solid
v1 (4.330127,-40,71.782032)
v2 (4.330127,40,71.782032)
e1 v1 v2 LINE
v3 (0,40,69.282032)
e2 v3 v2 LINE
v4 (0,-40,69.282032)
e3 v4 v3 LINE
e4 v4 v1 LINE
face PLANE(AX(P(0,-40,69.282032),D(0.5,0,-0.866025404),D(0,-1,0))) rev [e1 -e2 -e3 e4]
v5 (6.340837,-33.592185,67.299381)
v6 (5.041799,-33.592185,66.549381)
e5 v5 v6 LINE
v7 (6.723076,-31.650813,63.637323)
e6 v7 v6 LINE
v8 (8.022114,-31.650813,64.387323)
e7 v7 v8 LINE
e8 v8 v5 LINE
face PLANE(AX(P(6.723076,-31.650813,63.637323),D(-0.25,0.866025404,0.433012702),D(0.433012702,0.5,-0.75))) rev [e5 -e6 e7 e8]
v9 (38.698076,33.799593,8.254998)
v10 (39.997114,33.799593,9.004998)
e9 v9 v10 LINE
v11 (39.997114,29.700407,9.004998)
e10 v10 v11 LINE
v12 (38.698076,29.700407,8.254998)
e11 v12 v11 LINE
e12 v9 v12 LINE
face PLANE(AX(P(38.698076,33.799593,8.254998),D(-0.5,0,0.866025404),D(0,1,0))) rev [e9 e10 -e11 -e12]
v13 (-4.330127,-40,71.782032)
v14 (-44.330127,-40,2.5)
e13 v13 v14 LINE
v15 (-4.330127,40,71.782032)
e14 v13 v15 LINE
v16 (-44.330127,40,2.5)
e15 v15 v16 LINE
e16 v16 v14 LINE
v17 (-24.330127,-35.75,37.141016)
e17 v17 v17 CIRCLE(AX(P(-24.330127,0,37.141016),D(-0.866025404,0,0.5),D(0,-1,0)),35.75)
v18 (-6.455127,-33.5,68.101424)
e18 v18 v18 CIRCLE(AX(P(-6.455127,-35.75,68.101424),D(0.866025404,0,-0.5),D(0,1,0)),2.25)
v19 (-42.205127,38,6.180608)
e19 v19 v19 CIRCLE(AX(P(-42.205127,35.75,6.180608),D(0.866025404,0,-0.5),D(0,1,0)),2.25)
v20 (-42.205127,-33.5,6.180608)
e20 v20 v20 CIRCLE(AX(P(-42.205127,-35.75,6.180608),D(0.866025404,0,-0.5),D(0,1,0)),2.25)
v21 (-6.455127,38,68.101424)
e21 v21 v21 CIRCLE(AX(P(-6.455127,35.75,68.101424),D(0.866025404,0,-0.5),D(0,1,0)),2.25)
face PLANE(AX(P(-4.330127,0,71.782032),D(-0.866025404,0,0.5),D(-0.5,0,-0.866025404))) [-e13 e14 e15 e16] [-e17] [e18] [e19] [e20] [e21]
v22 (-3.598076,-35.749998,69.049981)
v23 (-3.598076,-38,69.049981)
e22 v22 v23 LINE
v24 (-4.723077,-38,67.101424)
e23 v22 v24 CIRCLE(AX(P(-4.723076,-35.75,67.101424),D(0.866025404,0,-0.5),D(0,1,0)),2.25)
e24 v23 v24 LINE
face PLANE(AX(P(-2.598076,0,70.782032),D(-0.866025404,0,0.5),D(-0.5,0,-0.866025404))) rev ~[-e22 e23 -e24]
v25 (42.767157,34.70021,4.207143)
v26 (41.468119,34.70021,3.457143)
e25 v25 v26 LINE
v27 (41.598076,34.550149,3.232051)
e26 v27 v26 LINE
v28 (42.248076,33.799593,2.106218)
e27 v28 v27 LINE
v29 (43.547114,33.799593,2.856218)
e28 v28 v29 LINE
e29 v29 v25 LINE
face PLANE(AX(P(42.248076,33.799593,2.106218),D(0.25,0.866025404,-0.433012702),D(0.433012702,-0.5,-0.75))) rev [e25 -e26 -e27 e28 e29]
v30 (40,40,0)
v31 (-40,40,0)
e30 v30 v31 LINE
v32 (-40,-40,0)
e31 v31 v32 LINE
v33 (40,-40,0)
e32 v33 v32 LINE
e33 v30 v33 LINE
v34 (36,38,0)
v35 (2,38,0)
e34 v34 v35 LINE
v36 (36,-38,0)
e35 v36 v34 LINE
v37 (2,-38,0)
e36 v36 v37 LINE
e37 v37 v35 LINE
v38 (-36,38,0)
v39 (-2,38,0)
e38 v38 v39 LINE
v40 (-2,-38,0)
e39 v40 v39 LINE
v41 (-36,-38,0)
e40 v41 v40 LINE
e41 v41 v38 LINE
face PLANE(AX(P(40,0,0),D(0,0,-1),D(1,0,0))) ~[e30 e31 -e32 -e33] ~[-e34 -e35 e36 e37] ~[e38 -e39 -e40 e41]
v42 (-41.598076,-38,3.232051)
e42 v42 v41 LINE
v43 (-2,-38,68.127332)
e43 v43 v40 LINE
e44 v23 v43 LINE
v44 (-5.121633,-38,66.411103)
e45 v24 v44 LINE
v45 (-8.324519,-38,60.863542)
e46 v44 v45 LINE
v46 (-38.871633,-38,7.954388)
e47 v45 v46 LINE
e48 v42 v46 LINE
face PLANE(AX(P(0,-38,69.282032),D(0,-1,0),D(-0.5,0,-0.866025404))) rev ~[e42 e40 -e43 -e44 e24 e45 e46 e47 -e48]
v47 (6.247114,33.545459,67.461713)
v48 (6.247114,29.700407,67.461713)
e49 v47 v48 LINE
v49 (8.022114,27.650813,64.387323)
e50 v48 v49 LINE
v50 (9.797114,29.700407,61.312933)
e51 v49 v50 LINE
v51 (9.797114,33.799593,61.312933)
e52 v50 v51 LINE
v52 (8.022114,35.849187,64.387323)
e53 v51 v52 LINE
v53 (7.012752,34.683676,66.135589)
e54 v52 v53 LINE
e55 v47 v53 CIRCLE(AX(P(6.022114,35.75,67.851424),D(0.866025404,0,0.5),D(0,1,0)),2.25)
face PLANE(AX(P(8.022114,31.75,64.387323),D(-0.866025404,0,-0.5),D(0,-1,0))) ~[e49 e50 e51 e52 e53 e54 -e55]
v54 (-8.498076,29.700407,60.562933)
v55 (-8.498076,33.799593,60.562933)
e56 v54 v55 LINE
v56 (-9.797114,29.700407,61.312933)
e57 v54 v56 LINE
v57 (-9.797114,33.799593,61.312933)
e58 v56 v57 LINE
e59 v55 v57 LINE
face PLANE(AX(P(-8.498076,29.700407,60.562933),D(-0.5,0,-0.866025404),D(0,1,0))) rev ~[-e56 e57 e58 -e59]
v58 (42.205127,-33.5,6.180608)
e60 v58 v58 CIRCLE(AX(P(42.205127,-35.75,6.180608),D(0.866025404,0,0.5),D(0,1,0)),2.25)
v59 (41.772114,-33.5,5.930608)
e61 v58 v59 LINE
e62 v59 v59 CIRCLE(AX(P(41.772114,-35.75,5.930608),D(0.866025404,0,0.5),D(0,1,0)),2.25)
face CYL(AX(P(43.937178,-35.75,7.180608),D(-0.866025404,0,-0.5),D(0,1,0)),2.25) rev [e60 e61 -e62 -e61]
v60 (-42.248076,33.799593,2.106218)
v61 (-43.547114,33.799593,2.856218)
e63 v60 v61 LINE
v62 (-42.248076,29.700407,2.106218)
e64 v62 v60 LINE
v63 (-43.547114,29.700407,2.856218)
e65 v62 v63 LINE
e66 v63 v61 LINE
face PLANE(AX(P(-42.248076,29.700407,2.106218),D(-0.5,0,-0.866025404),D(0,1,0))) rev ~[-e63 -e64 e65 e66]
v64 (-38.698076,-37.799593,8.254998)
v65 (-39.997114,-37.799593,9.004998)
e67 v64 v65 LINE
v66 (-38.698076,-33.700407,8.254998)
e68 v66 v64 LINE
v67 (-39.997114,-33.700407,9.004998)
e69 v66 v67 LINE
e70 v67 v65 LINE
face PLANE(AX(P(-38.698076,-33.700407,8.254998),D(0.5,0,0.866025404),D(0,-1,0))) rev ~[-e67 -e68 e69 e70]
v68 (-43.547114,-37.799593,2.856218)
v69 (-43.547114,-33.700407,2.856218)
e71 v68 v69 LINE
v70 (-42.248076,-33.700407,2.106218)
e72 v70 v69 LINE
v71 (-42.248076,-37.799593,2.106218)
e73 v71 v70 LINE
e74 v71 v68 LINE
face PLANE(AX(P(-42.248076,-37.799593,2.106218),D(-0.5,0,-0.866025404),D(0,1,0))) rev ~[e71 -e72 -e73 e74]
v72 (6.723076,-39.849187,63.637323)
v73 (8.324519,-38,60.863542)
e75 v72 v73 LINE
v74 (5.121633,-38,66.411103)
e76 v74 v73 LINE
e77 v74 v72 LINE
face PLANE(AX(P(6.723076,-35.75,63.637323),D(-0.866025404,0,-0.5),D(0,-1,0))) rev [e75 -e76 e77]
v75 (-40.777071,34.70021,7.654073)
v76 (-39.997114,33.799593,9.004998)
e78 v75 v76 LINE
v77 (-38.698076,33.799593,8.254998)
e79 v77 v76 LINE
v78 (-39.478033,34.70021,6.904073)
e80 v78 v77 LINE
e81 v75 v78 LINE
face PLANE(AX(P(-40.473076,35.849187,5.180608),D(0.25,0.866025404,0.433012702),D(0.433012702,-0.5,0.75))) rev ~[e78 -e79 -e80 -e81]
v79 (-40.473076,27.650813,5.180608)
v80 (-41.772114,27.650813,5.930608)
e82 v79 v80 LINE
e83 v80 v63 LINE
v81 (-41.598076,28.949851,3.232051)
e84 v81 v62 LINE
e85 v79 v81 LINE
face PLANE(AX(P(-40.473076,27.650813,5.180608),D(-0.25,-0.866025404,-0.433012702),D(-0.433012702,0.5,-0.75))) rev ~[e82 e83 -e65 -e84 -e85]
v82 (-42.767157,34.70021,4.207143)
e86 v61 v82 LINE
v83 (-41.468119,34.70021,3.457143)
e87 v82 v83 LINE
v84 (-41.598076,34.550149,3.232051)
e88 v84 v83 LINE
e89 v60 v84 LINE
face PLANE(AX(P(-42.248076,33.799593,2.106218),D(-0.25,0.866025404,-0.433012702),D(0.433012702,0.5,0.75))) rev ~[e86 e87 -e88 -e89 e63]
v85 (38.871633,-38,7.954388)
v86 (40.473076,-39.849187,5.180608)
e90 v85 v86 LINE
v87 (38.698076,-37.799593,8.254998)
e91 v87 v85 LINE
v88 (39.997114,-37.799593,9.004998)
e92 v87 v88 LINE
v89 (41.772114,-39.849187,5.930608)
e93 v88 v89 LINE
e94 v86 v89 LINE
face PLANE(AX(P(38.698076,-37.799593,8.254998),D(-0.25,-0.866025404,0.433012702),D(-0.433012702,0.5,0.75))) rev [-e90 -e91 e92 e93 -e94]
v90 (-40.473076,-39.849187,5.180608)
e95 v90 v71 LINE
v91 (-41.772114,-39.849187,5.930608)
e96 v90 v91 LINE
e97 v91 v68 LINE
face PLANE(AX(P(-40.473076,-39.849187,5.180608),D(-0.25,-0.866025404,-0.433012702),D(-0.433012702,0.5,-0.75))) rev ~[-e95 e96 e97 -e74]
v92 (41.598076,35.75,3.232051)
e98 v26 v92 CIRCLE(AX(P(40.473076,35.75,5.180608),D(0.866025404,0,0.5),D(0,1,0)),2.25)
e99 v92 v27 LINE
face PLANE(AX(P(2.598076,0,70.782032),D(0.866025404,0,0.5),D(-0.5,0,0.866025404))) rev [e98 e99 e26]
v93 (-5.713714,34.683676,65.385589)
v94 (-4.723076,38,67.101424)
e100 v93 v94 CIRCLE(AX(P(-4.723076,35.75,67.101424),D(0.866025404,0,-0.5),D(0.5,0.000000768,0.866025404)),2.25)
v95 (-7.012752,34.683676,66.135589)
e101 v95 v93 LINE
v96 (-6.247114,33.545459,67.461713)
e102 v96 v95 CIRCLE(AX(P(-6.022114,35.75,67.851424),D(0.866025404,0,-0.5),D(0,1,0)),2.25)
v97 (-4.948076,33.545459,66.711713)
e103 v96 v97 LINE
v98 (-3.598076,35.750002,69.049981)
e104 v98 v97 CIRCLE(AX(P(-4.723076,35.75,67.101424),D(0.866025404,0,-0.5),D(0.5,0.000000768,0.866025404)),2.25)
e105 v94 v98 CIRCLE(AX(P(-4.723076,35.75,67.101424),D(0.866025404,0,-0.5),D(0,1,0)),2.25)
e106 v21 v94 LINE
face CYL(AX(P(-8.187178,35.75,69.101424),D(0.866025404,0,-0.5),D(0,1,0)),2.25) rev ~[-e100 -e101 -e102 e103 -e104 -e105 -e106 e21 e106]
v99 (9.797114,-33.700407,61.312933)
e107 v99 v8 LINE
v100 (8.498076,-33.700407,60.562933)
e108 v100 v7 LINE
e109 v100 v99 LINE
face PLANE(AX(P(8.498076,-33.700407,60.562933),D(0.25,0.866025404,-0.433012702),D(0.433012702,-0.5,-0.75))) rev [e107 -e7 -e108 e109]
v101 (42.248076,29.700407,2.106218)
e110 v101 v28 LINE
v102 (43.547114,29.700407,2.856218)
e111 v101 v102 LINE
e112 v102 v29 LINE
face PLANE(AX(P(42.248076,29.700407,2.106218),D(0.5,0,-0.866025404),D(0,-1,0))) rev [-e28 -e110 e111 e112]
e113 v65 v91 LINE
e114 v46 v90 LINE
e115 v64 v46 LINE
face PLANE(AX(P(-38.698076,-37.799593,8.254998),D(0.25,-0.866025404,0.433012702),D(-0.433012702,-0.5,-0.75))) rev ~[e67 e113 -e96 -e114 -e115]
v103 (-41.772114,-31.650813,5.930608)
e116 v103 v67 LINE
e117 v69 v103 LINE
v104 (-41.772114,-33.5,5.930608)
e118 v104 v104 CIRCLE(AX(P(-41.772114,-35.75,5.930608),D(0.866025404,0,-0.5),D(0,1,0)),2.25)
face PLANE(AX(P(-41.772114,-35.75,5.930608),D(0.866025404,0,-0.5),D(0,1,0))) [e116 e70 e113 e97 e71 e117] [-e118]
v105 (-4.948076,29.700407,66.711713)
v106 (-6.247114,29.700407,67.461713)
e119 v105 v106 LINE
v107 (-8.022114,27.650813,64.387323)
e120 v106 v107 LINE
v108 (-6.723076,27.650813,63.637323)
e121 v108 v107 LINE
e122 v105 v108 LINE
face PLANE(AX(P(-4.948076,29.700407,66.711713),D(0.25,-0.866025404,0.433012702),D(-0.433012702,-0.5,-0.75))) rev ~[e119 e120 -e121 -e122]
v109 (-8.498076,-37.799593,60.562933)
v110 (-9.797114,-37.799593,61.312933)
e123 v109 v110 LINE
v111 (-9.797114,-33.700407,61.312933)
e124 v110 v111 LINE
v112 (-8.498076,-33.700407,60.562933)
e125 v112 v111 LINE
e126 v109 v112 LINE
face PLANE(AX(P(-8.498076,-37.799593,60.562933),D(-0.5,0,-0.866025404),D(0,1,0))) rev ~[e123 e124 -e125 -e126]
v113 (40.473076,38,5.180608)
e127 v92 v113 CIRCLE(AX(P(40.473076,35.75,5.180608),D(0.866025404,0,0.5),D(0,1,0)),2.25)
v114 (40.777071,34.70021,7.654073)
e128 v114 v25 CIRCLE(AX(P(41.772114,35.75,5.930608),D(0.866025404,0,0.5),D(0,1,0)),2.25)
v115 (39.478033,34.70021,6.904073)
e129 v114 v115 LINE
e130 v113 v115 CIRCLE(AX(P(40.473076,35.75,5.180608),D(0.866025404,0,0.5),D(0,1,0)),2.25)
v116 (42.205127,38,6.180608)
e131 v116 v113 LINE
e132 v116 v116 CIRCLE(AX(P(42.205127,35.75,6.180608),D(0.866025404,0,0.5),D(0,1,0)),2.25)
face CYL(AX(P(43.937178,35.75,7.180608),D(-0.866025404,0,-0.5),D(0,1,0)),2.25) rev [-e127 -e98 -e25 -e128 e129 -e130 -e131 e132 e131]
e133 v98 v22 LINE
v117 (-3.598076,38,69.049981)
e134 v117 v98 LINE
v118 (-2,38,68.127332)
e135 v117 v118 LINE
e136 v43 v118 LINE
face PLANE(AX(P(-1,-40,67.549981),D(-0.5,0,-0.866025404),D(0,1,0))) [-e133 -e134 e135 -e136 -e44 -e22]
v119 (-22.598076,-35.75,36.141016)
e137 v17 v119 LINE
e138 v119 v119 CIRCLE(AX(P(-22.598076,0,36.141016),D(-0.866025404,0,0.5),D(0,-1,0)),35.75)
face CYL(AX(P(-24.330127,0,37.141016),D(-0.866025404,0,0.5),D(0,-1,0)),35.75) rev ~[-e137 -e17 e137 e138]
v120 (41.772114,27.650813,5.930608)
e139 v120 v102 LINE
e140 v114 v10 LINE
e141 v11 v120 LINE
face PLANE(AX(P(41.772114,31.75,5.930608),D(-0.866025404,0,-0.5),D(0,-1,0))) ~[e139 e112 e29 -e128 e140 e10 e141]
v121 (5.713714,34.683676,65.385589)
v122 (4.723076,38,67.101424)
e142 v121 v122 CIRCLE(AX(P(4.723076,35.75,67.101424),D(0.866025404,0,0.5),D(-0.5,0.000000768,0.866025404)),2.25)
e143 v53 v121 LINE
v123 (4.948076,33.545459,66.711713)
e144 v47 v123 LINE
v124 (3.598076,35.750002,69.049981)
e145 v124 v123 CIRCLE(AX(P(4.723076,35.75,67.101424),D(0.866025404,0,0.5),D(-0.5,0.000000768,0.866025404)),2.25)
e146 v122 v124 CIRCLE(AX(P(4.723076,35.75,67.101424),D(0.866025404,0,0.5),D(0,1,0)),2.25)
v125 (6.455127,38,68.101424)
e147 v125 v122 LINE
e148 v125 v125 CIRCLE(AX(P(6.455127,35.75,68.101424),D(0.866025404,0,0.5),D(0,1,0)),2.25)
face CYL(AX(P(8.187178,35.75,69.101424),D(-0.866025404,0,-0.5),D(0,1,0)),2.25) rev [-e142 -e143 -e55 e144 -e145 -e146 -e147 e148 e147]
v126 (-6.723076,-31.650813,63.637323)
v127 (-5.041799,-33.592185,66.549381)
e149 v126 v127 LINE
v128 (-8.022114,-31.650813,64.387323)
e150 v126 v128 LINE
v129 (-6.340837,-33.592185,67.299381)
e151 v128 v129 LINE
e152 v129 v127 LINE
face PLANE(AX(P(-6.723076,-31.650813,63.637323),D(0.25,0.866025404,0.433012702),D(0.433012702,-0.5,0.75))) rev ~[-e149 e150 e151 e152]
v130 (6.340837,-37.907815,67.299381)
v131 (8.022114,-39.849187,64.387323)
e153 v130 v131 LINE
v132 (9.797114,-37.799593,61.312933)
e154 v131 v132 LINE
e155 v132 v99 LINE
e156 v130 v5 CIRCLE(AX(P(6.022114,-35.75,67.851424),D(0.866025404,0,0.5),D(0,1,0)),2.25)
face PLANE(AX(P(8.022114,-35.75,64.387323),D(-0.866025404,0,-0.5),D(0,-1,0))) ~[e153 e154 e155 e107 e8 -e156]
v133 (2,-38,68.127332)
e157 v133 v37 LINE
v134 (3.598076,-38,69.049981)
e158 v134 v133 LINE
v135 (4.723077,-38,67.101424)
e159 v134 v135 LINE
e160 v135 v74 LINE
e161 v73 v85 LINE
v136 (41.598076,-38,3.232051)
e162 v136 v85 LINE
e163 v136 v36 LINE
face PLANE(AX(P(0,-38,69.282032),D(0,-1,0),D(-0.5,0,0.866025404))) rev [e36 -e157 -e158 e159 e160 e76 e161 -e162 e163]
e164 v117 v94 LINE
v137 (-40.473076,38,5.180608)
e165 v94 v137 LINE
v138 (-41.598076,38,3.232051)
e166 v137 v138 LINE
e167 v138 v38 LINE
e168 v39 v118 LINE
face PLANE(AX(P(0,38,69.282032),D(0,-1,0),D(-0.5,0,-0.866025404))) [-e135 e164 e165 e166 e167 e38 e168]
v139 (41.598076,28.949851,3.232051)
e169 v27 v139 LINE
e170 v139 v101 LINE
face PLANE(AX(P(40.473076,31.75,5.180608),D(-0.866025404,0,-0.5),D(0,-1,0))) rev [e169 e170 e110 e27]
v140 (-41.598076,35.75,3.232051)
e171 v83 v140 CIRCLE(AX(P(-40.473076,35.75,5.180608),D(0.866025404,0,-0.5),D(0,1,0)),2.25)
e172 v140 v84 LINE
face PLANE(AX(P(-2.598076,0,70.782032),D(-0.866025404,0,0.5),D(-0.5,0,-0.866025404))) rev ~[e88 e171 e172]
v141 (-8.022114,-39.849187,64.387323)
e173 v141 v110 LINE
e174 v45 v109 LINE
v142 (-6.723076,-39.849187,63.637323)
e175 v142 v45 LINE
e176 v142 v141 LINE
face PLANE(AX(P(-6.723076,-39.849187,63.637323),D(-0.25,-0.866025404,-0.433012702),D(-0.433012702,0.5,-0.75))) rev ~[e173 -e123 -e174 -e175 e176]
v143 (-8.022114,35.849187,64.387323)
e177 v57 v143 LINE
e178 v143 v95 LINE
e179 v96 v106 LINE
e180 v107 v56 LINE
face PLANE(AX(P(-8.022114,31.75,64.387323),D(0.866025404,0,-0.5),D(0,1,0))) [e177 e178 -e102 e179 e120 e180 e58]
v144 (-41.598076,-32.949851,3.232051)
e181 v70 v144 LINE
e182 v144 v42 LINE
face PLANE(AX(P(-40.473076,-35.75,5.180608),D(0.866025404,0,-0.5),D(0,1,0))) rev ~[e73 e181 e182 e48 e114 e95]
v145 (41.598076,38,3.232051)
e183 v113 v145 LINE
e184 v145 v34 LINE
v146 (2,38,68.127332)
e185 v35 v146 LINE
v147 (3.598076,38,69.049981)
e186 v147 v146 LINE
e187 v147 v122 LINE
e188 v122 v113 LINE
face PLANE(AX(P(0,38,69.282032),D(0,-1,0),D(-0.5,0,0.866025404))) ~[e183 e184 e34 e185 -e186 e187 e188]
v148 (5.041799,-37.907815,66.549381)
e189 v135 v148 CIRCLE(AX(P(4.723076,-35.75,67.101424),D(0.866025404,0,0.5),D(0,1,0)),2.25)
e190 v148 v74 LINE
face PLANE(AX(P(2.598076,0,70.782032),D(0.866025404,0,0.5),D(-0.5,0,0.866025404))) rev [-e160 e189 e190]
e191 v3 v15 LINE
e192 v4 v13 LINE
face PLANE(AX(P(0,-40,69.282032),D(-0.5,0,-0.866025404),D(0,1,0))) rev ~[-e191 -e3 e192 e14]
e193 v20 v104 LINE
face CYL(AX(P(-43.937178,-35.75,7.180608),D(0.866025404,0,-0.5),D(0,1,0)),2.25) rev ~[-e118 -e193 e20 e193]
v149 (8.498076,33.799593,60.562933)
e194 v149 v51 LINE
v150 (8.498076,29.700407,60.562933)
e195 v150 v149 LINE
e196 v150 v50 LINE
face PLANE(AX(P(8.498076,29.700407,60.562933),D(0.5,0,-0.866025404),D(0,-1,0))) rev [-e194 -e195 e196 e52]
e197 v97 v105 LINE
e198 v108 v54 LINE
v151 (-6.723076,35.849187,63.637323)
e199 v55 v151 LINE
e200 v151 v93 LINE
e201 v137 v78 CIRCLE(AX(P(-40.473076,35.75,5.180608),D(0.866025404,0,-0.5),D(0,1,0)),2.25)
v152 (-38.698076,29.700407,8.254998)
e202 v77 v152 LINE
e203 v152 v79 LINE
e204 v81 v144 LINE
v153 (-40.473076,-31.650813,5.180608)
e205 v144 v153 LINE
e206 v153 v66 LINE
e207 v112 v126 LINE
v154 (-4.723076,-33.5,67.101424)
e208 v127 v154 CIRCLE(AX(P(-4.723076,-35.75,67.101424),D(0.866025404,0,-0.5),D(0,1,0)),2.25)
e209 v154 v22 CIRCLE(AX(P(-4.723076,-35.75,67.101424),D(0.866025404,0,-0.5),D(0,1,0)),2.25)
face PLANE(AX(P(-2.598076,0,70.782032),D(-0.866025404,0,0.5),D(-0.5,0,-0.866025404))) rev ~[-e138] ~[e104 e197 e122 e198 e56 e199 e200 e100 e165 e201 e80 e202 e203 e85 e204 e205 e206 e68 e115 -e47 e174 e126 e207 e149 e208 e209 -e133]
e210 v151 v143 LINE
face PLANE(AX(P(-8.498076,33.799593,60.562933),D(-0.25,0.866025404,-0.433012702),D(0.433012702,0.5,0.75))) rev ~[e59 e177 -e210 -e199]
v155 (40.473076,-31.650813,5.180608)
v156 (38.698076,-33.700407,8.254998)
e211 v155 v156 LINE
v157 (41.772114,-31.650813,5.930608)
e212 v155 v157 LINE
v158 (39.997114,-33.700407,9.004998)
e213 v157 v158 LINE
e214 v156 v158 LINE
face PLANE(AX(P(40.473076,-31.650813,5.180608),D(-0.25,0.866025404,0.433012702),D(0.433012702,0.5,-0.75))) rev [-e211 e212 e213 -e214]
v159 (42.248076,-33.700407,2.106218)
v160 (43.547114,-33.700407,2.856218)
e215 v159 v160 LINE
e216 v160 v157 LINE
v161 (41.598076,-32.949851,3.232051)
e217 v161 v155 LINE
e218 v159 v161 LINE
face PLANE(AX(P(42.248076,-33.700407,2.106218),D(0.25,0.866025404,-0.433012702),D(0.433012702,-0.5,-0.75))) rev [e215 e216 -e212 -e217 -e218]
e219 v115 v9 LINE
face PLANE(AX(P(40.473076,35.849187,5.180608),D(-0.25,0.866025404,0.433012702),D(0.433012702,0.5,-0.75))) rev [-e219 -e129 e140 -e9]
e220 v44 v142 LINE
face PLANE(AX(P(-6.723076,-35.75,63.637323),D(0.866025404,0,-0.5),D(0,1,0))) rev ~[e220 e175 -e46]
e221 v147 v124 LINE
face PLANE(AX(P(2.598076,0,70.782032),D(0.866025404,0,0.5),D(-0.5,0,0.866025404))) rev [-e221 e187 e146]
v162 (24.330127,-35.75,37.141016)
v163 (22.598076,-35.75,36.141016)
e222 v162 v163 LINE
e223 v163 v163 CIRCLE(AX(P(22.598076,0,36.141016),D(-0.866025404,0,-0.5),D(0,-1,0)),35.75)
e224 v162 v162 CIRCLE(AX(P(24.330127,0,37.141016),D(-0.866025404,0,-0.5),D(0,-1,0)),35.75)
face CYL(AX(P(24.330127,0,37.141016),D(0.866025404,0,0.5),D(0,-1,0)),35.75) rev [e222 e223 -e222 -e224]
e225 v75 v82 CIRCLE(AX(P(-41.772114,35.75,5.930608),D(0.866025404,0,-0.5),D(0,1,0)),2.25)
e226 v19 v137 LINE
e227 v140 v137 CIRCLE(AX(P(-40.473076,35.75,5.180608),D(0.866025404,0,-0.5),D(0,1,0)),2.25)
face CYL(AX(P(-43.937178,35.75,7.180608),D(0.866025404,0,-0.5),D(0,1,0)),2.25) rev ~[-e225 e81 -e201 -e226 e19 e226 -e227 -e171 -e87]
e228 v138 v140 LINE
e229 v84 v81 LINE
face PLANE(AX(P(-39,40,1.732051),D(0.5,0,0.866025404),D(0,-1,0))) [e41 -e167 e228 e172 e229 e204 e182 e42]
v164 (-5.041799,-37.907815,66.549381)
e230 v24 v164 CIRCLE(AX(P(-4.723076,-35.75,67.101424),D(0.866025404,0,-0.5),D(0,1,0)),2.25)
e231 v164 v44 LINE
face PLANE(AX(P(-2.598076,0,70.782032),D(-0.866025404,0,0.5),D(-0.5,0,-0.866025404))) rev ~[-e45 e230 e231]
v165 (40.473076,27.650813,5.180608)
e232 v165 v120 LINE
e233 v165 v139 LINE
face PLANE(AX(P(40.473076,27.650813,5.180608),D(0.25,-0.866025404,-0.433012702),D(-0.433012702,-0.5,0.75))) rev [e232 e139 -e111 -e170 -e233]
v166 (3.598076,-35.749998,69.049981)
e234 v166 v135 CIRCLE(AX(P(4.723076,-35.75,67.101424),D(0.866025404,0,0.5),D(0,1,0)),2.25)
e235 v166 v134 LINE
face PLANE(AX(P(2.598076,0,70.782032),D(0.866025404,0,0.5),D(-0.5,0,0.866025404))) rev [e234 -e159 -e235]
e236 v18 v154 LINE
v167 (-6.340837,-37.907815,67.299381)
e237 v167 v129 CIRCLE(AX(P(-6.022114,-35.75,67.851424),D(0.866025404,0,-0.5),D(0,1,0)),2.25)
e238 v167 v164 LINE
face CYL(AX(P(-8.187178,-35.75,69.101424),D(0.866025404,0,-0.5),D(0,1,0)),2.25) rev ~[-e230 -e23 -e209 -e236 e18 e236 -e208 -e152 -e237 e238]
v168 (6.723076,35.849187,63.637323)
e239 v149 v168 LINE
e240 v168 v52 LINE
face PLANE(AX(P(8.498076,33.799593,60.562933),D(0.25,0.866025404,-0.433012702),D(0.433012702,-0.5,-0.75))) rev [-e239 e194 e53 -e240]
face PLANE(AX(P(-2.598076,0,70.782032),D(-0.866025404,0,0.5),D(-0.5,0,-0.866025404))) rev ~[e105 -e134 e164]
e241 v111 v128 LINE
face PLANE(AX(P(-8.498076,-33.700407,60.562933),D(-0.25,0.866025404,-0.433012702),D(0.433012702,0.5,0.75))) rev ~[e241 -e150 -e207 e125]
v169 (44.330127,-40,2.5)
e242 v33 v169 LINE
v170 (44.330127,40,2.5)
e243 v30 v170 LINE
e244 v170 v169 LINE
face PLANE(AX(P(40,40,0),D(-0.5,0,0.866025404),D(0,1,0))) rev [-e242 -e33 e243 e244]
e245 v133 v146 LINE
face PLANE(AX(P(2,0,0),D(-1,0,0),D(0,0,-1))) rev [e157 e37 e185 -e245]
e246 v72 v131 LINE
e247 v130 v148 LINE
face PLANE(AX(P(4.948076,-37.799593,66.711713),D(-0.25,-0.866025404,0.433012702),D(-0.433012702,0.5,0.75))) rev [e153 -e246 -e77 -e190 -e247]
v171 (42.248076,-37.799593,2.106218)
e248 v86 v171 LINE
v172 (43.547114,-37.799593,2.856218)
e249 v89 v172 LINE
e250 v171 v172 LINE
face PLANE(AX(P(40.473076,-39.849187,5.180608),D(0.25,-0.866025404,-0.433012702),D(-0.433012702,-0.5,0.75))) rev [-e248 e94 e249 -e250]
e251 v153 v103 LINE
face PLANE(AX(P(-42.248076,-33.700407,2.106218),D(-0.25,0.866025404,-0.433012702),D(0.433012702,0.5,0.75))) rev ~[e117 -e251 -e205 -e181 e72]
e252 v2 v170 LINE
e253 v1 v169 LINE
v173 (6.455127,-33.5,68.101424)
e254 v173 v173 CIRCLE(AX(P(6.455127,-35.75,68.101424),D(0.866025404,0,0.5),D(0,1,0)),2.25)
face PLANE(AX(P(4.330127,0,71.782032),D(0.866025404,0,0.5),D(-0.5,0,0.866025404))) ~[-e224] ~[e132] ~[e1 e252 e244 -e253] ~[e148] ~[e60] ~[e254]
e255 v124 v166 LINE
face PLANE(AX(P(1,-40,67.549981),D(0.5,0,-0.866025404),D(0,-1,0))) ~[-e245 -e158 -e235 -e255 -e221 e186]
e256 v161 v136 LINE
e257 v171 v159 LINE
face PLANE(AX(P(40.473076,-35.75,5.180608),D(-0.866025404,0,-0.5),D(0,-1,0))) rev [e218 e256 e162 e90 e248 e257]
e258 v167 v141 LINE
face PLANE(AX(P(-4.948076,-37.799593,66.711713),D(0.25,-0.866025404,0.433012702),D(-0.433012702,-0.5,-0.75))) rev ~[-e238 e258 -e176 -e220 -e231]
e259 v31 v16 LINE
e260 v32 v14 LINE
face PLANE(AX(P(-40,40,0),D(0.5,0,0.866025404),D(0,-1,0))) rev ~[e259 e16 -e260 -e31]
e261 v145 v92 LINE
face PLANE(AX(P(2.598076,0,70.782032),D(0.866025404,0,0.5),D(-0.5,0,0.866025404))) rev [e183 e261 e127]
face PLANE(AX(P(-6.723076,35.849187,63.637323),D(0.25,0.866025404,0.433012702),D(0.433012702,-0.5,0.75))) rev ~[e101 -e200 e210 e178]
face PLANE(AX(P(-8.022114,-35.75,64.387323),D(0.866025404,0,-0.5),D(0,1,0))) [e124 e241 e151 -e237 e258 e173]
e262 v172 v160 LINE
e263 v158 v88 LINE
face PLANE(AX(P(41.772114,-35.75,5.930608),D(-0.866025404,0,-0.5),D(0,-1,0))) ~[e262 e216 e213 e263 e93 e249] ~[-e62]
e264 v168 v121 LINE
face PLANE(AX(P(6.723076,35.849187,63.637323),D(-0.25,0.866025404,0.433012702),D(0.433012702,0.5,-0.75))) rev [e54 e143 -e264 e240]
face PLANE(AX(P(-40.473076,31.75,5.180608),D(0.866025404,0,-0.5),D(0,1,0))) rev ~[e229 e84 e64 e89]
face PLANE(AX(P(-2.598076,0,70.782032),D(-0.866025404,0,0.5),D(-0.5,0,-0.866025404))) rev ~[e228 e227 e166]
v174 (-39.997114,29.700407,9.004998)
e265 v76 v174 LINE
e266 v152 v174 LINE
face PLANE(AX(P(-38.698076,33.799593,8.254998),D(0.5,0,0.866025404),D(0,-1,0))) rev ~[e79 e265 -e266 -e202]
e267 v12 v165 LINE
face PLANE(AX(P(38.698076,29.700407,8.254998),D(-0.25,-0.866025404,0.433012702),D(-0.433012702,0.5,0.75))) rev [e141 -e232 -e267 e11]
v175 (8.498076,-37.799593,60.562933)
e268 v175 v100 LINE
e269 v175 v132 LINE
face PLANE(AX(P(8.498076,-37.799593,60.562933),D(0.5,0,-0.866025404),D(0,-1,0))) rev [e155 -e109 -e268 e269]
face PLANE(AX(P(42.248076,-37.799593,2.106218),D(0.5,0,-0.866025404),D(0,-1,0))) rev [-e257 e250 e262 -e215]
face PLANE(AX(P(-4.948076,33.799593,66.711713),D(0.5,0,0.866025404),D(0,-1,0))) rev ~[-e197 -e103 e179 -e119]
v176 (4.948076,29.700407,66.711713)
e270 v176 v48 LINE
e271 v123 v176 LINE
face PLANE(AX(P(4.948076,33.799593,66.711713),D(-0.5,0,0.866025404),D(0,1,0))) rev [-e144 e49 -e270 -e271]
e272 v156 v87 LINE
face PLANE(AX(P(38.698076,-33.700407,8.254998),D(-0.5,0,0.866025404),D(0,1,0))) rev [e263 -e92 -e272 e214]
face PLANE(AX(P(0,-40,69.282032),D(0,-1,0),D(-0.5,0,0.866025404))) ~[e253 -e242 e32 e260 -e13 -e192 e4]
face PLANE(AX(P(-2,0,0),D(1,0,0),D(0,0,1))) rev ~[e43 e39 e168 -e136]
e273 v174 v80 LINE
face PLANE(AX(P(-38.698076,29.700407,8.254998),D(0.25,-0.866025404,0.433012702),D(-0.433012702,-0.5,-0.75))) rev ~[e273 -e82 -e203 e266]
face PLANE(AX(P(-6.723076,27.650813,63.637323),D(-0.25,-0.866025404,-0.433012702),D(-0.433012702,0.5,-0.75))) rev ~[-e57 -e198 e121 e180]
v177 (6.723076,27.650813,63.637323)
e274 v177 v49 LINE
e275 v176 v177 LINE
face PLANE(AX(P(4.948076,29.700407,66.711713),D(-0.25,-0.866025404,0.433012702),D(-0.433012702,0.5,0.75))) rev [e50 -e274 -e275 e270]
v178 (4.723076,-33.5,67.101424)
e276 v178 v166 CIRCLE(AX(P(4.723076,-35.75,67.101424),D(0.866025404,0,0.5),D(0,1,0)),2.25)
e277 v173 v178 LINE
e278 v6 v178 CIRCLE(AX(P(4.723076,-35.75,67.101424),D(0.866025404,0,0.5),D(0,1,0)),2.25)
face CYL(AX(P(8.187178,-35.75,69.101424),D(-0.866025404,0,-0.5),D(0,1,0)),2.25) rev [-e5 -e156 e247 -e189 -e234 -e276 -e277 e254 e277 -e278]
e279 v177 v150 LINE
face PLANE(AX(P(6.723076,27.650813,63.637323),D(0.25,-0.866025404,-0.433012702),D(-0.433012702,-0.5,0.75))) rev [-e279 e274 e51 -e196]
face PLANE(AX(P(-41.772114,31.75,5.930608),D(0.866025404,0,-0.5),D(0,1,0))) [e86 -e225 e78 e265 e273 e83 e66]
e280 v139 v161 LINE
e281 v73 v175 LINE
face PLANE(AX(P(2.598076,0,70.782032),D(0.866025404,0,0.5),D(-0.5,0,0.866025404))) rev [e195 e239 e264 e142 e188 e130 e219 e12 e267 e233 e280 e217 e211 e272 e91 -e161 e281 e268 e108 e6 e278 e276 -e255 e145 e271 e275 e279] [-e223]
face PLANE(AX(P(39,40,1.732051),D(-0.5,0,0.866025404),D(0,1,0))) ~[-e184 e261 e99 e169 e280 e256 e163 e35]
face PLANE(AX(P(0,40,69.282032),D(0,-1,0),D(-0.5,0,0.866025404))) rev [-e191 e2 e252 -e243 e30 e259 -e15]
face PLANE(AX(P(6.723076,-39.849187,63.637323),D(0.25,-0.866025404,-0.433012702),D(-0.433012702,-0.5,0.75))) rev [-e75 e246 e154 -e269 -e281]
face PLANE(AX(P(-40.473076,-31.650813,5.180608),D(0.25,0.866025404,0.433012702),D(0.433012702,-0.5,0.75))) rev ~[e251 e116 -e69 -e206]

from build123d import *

# Parameters (mm, degrees)
F1_DEPTH = 40
F2_DEPTH = 5
F4_T     = -2
F3_R     = 35.75
F5_DEPTH = 5
F6_D     = 4.5
F6_DEPTH = 2
F6_TIP   = 1.3519363928
F8_DEPTH = 1.5


with BuildPart() as f1:
    # F0 (on Front) → F1 (new body, symmetric)
    with BuildSketch(Plane.XZ):
        Polygon((0, 69.2820323028), (-40, 0), (0, 0), align=None)
    extrude(amount=F1_DEPTH, both=True)

    # F2 (add): a face of the model
    f2_faces = [f1.faces().sort_by_distance(p)[0] for p in [
        (-20, 0, 34.6410161514),
    ]]
    extrude(f2_faces, amount=F2_DEPTH)

    # F4
    f4_openings = [f1.faces().sort_by_distance(p)[0] for p in [
        (-20, 0, 0),
    ]]
    offset(amount=F4_T, openings=f4_openings)

    # F3 (on face) → F5 (cut)
    with BuildSketch(Plane(origin=(-34.3301270189, 0, 19.8205080757), x_dir=(0, -1, 0), z_dir=(-0.8660254038, 0, 0.5))):
        with Locations((0, 20)):
            Circle(F3_R)
    extrude(amount=-F5_DEPTH, mode=Mode.SUBTRACT)

    # F6
    with Locations(Plane(origin=(-34.3301270189, 0, 19.8205080757), x_dir=(0, -1, 0), z_dir=(-0.8660254038, 0, 0.5))):
        with Locations((35.75, 55.75), (35.75, -15.75), (-35.75, -15.75), (-35.75, 55.75)):
            Hole(F6_D / 2, depth=F6_DEPTH)
            with Locations((0, 0, -(F6_DEPTH + F6_TIP / 2))):  # 118° drill point
                Cone(0, F6_D / 2, F6_TIP, mode=Mode.SUBTRACT)

    # F7 (on face) → F8 (cut)
    with BuildSketch(Plane(origin=(-32.5980762114, 0, 18.8205080757), x_dir=(0, 1, 0), z_dir=(0.8660254038, 0, -0.5))):
        Polygon((-33.7004065444, -12.2), (-37.7995934556, -12.2), (-39.8491869112, -15.75), (-37.7995934556, -19.3), (-33.7004065444, -19.3), (-31.6508130888, -15.75), align=None)
        Polygon((-37.7995934556, 55.3), (-39.8491869112, 51.75), (-37.7995934556, 48.2), (-33.7004065444, 48.2), (-31.6508130888, 51.75), (-33.7004065444, 55.3), align=None)
        Polygon((29.7004065444, -12.2), (27.6508130888, -15.75), (29.7004065444, -19.3), (33.7995934556, -19.3), (35.8491869112, -15.75), (33.7995934556, -12.2), align=None)
        Polygon((29.7004065444, 55.3), (27.6508130888, 51.75), (29.7004065444, 48.2), (33.7995934556, 48.2), (35.8491869112, 51.75), (33.7995934556, 55.3), align=None)
    extrude(amount=-F8_DEPTH, mode=Mode.SUBTRACT)

    # F9: F1 across face


with BuildPart() as f1_1:
    add(f1.part)
    add(f1.part.mirror(Plane(origin=(0, 0, 34.6410161514), x_dir=(0, 1, 0), z_dir=(1, 0, 0))))


solid = f1_1.part
